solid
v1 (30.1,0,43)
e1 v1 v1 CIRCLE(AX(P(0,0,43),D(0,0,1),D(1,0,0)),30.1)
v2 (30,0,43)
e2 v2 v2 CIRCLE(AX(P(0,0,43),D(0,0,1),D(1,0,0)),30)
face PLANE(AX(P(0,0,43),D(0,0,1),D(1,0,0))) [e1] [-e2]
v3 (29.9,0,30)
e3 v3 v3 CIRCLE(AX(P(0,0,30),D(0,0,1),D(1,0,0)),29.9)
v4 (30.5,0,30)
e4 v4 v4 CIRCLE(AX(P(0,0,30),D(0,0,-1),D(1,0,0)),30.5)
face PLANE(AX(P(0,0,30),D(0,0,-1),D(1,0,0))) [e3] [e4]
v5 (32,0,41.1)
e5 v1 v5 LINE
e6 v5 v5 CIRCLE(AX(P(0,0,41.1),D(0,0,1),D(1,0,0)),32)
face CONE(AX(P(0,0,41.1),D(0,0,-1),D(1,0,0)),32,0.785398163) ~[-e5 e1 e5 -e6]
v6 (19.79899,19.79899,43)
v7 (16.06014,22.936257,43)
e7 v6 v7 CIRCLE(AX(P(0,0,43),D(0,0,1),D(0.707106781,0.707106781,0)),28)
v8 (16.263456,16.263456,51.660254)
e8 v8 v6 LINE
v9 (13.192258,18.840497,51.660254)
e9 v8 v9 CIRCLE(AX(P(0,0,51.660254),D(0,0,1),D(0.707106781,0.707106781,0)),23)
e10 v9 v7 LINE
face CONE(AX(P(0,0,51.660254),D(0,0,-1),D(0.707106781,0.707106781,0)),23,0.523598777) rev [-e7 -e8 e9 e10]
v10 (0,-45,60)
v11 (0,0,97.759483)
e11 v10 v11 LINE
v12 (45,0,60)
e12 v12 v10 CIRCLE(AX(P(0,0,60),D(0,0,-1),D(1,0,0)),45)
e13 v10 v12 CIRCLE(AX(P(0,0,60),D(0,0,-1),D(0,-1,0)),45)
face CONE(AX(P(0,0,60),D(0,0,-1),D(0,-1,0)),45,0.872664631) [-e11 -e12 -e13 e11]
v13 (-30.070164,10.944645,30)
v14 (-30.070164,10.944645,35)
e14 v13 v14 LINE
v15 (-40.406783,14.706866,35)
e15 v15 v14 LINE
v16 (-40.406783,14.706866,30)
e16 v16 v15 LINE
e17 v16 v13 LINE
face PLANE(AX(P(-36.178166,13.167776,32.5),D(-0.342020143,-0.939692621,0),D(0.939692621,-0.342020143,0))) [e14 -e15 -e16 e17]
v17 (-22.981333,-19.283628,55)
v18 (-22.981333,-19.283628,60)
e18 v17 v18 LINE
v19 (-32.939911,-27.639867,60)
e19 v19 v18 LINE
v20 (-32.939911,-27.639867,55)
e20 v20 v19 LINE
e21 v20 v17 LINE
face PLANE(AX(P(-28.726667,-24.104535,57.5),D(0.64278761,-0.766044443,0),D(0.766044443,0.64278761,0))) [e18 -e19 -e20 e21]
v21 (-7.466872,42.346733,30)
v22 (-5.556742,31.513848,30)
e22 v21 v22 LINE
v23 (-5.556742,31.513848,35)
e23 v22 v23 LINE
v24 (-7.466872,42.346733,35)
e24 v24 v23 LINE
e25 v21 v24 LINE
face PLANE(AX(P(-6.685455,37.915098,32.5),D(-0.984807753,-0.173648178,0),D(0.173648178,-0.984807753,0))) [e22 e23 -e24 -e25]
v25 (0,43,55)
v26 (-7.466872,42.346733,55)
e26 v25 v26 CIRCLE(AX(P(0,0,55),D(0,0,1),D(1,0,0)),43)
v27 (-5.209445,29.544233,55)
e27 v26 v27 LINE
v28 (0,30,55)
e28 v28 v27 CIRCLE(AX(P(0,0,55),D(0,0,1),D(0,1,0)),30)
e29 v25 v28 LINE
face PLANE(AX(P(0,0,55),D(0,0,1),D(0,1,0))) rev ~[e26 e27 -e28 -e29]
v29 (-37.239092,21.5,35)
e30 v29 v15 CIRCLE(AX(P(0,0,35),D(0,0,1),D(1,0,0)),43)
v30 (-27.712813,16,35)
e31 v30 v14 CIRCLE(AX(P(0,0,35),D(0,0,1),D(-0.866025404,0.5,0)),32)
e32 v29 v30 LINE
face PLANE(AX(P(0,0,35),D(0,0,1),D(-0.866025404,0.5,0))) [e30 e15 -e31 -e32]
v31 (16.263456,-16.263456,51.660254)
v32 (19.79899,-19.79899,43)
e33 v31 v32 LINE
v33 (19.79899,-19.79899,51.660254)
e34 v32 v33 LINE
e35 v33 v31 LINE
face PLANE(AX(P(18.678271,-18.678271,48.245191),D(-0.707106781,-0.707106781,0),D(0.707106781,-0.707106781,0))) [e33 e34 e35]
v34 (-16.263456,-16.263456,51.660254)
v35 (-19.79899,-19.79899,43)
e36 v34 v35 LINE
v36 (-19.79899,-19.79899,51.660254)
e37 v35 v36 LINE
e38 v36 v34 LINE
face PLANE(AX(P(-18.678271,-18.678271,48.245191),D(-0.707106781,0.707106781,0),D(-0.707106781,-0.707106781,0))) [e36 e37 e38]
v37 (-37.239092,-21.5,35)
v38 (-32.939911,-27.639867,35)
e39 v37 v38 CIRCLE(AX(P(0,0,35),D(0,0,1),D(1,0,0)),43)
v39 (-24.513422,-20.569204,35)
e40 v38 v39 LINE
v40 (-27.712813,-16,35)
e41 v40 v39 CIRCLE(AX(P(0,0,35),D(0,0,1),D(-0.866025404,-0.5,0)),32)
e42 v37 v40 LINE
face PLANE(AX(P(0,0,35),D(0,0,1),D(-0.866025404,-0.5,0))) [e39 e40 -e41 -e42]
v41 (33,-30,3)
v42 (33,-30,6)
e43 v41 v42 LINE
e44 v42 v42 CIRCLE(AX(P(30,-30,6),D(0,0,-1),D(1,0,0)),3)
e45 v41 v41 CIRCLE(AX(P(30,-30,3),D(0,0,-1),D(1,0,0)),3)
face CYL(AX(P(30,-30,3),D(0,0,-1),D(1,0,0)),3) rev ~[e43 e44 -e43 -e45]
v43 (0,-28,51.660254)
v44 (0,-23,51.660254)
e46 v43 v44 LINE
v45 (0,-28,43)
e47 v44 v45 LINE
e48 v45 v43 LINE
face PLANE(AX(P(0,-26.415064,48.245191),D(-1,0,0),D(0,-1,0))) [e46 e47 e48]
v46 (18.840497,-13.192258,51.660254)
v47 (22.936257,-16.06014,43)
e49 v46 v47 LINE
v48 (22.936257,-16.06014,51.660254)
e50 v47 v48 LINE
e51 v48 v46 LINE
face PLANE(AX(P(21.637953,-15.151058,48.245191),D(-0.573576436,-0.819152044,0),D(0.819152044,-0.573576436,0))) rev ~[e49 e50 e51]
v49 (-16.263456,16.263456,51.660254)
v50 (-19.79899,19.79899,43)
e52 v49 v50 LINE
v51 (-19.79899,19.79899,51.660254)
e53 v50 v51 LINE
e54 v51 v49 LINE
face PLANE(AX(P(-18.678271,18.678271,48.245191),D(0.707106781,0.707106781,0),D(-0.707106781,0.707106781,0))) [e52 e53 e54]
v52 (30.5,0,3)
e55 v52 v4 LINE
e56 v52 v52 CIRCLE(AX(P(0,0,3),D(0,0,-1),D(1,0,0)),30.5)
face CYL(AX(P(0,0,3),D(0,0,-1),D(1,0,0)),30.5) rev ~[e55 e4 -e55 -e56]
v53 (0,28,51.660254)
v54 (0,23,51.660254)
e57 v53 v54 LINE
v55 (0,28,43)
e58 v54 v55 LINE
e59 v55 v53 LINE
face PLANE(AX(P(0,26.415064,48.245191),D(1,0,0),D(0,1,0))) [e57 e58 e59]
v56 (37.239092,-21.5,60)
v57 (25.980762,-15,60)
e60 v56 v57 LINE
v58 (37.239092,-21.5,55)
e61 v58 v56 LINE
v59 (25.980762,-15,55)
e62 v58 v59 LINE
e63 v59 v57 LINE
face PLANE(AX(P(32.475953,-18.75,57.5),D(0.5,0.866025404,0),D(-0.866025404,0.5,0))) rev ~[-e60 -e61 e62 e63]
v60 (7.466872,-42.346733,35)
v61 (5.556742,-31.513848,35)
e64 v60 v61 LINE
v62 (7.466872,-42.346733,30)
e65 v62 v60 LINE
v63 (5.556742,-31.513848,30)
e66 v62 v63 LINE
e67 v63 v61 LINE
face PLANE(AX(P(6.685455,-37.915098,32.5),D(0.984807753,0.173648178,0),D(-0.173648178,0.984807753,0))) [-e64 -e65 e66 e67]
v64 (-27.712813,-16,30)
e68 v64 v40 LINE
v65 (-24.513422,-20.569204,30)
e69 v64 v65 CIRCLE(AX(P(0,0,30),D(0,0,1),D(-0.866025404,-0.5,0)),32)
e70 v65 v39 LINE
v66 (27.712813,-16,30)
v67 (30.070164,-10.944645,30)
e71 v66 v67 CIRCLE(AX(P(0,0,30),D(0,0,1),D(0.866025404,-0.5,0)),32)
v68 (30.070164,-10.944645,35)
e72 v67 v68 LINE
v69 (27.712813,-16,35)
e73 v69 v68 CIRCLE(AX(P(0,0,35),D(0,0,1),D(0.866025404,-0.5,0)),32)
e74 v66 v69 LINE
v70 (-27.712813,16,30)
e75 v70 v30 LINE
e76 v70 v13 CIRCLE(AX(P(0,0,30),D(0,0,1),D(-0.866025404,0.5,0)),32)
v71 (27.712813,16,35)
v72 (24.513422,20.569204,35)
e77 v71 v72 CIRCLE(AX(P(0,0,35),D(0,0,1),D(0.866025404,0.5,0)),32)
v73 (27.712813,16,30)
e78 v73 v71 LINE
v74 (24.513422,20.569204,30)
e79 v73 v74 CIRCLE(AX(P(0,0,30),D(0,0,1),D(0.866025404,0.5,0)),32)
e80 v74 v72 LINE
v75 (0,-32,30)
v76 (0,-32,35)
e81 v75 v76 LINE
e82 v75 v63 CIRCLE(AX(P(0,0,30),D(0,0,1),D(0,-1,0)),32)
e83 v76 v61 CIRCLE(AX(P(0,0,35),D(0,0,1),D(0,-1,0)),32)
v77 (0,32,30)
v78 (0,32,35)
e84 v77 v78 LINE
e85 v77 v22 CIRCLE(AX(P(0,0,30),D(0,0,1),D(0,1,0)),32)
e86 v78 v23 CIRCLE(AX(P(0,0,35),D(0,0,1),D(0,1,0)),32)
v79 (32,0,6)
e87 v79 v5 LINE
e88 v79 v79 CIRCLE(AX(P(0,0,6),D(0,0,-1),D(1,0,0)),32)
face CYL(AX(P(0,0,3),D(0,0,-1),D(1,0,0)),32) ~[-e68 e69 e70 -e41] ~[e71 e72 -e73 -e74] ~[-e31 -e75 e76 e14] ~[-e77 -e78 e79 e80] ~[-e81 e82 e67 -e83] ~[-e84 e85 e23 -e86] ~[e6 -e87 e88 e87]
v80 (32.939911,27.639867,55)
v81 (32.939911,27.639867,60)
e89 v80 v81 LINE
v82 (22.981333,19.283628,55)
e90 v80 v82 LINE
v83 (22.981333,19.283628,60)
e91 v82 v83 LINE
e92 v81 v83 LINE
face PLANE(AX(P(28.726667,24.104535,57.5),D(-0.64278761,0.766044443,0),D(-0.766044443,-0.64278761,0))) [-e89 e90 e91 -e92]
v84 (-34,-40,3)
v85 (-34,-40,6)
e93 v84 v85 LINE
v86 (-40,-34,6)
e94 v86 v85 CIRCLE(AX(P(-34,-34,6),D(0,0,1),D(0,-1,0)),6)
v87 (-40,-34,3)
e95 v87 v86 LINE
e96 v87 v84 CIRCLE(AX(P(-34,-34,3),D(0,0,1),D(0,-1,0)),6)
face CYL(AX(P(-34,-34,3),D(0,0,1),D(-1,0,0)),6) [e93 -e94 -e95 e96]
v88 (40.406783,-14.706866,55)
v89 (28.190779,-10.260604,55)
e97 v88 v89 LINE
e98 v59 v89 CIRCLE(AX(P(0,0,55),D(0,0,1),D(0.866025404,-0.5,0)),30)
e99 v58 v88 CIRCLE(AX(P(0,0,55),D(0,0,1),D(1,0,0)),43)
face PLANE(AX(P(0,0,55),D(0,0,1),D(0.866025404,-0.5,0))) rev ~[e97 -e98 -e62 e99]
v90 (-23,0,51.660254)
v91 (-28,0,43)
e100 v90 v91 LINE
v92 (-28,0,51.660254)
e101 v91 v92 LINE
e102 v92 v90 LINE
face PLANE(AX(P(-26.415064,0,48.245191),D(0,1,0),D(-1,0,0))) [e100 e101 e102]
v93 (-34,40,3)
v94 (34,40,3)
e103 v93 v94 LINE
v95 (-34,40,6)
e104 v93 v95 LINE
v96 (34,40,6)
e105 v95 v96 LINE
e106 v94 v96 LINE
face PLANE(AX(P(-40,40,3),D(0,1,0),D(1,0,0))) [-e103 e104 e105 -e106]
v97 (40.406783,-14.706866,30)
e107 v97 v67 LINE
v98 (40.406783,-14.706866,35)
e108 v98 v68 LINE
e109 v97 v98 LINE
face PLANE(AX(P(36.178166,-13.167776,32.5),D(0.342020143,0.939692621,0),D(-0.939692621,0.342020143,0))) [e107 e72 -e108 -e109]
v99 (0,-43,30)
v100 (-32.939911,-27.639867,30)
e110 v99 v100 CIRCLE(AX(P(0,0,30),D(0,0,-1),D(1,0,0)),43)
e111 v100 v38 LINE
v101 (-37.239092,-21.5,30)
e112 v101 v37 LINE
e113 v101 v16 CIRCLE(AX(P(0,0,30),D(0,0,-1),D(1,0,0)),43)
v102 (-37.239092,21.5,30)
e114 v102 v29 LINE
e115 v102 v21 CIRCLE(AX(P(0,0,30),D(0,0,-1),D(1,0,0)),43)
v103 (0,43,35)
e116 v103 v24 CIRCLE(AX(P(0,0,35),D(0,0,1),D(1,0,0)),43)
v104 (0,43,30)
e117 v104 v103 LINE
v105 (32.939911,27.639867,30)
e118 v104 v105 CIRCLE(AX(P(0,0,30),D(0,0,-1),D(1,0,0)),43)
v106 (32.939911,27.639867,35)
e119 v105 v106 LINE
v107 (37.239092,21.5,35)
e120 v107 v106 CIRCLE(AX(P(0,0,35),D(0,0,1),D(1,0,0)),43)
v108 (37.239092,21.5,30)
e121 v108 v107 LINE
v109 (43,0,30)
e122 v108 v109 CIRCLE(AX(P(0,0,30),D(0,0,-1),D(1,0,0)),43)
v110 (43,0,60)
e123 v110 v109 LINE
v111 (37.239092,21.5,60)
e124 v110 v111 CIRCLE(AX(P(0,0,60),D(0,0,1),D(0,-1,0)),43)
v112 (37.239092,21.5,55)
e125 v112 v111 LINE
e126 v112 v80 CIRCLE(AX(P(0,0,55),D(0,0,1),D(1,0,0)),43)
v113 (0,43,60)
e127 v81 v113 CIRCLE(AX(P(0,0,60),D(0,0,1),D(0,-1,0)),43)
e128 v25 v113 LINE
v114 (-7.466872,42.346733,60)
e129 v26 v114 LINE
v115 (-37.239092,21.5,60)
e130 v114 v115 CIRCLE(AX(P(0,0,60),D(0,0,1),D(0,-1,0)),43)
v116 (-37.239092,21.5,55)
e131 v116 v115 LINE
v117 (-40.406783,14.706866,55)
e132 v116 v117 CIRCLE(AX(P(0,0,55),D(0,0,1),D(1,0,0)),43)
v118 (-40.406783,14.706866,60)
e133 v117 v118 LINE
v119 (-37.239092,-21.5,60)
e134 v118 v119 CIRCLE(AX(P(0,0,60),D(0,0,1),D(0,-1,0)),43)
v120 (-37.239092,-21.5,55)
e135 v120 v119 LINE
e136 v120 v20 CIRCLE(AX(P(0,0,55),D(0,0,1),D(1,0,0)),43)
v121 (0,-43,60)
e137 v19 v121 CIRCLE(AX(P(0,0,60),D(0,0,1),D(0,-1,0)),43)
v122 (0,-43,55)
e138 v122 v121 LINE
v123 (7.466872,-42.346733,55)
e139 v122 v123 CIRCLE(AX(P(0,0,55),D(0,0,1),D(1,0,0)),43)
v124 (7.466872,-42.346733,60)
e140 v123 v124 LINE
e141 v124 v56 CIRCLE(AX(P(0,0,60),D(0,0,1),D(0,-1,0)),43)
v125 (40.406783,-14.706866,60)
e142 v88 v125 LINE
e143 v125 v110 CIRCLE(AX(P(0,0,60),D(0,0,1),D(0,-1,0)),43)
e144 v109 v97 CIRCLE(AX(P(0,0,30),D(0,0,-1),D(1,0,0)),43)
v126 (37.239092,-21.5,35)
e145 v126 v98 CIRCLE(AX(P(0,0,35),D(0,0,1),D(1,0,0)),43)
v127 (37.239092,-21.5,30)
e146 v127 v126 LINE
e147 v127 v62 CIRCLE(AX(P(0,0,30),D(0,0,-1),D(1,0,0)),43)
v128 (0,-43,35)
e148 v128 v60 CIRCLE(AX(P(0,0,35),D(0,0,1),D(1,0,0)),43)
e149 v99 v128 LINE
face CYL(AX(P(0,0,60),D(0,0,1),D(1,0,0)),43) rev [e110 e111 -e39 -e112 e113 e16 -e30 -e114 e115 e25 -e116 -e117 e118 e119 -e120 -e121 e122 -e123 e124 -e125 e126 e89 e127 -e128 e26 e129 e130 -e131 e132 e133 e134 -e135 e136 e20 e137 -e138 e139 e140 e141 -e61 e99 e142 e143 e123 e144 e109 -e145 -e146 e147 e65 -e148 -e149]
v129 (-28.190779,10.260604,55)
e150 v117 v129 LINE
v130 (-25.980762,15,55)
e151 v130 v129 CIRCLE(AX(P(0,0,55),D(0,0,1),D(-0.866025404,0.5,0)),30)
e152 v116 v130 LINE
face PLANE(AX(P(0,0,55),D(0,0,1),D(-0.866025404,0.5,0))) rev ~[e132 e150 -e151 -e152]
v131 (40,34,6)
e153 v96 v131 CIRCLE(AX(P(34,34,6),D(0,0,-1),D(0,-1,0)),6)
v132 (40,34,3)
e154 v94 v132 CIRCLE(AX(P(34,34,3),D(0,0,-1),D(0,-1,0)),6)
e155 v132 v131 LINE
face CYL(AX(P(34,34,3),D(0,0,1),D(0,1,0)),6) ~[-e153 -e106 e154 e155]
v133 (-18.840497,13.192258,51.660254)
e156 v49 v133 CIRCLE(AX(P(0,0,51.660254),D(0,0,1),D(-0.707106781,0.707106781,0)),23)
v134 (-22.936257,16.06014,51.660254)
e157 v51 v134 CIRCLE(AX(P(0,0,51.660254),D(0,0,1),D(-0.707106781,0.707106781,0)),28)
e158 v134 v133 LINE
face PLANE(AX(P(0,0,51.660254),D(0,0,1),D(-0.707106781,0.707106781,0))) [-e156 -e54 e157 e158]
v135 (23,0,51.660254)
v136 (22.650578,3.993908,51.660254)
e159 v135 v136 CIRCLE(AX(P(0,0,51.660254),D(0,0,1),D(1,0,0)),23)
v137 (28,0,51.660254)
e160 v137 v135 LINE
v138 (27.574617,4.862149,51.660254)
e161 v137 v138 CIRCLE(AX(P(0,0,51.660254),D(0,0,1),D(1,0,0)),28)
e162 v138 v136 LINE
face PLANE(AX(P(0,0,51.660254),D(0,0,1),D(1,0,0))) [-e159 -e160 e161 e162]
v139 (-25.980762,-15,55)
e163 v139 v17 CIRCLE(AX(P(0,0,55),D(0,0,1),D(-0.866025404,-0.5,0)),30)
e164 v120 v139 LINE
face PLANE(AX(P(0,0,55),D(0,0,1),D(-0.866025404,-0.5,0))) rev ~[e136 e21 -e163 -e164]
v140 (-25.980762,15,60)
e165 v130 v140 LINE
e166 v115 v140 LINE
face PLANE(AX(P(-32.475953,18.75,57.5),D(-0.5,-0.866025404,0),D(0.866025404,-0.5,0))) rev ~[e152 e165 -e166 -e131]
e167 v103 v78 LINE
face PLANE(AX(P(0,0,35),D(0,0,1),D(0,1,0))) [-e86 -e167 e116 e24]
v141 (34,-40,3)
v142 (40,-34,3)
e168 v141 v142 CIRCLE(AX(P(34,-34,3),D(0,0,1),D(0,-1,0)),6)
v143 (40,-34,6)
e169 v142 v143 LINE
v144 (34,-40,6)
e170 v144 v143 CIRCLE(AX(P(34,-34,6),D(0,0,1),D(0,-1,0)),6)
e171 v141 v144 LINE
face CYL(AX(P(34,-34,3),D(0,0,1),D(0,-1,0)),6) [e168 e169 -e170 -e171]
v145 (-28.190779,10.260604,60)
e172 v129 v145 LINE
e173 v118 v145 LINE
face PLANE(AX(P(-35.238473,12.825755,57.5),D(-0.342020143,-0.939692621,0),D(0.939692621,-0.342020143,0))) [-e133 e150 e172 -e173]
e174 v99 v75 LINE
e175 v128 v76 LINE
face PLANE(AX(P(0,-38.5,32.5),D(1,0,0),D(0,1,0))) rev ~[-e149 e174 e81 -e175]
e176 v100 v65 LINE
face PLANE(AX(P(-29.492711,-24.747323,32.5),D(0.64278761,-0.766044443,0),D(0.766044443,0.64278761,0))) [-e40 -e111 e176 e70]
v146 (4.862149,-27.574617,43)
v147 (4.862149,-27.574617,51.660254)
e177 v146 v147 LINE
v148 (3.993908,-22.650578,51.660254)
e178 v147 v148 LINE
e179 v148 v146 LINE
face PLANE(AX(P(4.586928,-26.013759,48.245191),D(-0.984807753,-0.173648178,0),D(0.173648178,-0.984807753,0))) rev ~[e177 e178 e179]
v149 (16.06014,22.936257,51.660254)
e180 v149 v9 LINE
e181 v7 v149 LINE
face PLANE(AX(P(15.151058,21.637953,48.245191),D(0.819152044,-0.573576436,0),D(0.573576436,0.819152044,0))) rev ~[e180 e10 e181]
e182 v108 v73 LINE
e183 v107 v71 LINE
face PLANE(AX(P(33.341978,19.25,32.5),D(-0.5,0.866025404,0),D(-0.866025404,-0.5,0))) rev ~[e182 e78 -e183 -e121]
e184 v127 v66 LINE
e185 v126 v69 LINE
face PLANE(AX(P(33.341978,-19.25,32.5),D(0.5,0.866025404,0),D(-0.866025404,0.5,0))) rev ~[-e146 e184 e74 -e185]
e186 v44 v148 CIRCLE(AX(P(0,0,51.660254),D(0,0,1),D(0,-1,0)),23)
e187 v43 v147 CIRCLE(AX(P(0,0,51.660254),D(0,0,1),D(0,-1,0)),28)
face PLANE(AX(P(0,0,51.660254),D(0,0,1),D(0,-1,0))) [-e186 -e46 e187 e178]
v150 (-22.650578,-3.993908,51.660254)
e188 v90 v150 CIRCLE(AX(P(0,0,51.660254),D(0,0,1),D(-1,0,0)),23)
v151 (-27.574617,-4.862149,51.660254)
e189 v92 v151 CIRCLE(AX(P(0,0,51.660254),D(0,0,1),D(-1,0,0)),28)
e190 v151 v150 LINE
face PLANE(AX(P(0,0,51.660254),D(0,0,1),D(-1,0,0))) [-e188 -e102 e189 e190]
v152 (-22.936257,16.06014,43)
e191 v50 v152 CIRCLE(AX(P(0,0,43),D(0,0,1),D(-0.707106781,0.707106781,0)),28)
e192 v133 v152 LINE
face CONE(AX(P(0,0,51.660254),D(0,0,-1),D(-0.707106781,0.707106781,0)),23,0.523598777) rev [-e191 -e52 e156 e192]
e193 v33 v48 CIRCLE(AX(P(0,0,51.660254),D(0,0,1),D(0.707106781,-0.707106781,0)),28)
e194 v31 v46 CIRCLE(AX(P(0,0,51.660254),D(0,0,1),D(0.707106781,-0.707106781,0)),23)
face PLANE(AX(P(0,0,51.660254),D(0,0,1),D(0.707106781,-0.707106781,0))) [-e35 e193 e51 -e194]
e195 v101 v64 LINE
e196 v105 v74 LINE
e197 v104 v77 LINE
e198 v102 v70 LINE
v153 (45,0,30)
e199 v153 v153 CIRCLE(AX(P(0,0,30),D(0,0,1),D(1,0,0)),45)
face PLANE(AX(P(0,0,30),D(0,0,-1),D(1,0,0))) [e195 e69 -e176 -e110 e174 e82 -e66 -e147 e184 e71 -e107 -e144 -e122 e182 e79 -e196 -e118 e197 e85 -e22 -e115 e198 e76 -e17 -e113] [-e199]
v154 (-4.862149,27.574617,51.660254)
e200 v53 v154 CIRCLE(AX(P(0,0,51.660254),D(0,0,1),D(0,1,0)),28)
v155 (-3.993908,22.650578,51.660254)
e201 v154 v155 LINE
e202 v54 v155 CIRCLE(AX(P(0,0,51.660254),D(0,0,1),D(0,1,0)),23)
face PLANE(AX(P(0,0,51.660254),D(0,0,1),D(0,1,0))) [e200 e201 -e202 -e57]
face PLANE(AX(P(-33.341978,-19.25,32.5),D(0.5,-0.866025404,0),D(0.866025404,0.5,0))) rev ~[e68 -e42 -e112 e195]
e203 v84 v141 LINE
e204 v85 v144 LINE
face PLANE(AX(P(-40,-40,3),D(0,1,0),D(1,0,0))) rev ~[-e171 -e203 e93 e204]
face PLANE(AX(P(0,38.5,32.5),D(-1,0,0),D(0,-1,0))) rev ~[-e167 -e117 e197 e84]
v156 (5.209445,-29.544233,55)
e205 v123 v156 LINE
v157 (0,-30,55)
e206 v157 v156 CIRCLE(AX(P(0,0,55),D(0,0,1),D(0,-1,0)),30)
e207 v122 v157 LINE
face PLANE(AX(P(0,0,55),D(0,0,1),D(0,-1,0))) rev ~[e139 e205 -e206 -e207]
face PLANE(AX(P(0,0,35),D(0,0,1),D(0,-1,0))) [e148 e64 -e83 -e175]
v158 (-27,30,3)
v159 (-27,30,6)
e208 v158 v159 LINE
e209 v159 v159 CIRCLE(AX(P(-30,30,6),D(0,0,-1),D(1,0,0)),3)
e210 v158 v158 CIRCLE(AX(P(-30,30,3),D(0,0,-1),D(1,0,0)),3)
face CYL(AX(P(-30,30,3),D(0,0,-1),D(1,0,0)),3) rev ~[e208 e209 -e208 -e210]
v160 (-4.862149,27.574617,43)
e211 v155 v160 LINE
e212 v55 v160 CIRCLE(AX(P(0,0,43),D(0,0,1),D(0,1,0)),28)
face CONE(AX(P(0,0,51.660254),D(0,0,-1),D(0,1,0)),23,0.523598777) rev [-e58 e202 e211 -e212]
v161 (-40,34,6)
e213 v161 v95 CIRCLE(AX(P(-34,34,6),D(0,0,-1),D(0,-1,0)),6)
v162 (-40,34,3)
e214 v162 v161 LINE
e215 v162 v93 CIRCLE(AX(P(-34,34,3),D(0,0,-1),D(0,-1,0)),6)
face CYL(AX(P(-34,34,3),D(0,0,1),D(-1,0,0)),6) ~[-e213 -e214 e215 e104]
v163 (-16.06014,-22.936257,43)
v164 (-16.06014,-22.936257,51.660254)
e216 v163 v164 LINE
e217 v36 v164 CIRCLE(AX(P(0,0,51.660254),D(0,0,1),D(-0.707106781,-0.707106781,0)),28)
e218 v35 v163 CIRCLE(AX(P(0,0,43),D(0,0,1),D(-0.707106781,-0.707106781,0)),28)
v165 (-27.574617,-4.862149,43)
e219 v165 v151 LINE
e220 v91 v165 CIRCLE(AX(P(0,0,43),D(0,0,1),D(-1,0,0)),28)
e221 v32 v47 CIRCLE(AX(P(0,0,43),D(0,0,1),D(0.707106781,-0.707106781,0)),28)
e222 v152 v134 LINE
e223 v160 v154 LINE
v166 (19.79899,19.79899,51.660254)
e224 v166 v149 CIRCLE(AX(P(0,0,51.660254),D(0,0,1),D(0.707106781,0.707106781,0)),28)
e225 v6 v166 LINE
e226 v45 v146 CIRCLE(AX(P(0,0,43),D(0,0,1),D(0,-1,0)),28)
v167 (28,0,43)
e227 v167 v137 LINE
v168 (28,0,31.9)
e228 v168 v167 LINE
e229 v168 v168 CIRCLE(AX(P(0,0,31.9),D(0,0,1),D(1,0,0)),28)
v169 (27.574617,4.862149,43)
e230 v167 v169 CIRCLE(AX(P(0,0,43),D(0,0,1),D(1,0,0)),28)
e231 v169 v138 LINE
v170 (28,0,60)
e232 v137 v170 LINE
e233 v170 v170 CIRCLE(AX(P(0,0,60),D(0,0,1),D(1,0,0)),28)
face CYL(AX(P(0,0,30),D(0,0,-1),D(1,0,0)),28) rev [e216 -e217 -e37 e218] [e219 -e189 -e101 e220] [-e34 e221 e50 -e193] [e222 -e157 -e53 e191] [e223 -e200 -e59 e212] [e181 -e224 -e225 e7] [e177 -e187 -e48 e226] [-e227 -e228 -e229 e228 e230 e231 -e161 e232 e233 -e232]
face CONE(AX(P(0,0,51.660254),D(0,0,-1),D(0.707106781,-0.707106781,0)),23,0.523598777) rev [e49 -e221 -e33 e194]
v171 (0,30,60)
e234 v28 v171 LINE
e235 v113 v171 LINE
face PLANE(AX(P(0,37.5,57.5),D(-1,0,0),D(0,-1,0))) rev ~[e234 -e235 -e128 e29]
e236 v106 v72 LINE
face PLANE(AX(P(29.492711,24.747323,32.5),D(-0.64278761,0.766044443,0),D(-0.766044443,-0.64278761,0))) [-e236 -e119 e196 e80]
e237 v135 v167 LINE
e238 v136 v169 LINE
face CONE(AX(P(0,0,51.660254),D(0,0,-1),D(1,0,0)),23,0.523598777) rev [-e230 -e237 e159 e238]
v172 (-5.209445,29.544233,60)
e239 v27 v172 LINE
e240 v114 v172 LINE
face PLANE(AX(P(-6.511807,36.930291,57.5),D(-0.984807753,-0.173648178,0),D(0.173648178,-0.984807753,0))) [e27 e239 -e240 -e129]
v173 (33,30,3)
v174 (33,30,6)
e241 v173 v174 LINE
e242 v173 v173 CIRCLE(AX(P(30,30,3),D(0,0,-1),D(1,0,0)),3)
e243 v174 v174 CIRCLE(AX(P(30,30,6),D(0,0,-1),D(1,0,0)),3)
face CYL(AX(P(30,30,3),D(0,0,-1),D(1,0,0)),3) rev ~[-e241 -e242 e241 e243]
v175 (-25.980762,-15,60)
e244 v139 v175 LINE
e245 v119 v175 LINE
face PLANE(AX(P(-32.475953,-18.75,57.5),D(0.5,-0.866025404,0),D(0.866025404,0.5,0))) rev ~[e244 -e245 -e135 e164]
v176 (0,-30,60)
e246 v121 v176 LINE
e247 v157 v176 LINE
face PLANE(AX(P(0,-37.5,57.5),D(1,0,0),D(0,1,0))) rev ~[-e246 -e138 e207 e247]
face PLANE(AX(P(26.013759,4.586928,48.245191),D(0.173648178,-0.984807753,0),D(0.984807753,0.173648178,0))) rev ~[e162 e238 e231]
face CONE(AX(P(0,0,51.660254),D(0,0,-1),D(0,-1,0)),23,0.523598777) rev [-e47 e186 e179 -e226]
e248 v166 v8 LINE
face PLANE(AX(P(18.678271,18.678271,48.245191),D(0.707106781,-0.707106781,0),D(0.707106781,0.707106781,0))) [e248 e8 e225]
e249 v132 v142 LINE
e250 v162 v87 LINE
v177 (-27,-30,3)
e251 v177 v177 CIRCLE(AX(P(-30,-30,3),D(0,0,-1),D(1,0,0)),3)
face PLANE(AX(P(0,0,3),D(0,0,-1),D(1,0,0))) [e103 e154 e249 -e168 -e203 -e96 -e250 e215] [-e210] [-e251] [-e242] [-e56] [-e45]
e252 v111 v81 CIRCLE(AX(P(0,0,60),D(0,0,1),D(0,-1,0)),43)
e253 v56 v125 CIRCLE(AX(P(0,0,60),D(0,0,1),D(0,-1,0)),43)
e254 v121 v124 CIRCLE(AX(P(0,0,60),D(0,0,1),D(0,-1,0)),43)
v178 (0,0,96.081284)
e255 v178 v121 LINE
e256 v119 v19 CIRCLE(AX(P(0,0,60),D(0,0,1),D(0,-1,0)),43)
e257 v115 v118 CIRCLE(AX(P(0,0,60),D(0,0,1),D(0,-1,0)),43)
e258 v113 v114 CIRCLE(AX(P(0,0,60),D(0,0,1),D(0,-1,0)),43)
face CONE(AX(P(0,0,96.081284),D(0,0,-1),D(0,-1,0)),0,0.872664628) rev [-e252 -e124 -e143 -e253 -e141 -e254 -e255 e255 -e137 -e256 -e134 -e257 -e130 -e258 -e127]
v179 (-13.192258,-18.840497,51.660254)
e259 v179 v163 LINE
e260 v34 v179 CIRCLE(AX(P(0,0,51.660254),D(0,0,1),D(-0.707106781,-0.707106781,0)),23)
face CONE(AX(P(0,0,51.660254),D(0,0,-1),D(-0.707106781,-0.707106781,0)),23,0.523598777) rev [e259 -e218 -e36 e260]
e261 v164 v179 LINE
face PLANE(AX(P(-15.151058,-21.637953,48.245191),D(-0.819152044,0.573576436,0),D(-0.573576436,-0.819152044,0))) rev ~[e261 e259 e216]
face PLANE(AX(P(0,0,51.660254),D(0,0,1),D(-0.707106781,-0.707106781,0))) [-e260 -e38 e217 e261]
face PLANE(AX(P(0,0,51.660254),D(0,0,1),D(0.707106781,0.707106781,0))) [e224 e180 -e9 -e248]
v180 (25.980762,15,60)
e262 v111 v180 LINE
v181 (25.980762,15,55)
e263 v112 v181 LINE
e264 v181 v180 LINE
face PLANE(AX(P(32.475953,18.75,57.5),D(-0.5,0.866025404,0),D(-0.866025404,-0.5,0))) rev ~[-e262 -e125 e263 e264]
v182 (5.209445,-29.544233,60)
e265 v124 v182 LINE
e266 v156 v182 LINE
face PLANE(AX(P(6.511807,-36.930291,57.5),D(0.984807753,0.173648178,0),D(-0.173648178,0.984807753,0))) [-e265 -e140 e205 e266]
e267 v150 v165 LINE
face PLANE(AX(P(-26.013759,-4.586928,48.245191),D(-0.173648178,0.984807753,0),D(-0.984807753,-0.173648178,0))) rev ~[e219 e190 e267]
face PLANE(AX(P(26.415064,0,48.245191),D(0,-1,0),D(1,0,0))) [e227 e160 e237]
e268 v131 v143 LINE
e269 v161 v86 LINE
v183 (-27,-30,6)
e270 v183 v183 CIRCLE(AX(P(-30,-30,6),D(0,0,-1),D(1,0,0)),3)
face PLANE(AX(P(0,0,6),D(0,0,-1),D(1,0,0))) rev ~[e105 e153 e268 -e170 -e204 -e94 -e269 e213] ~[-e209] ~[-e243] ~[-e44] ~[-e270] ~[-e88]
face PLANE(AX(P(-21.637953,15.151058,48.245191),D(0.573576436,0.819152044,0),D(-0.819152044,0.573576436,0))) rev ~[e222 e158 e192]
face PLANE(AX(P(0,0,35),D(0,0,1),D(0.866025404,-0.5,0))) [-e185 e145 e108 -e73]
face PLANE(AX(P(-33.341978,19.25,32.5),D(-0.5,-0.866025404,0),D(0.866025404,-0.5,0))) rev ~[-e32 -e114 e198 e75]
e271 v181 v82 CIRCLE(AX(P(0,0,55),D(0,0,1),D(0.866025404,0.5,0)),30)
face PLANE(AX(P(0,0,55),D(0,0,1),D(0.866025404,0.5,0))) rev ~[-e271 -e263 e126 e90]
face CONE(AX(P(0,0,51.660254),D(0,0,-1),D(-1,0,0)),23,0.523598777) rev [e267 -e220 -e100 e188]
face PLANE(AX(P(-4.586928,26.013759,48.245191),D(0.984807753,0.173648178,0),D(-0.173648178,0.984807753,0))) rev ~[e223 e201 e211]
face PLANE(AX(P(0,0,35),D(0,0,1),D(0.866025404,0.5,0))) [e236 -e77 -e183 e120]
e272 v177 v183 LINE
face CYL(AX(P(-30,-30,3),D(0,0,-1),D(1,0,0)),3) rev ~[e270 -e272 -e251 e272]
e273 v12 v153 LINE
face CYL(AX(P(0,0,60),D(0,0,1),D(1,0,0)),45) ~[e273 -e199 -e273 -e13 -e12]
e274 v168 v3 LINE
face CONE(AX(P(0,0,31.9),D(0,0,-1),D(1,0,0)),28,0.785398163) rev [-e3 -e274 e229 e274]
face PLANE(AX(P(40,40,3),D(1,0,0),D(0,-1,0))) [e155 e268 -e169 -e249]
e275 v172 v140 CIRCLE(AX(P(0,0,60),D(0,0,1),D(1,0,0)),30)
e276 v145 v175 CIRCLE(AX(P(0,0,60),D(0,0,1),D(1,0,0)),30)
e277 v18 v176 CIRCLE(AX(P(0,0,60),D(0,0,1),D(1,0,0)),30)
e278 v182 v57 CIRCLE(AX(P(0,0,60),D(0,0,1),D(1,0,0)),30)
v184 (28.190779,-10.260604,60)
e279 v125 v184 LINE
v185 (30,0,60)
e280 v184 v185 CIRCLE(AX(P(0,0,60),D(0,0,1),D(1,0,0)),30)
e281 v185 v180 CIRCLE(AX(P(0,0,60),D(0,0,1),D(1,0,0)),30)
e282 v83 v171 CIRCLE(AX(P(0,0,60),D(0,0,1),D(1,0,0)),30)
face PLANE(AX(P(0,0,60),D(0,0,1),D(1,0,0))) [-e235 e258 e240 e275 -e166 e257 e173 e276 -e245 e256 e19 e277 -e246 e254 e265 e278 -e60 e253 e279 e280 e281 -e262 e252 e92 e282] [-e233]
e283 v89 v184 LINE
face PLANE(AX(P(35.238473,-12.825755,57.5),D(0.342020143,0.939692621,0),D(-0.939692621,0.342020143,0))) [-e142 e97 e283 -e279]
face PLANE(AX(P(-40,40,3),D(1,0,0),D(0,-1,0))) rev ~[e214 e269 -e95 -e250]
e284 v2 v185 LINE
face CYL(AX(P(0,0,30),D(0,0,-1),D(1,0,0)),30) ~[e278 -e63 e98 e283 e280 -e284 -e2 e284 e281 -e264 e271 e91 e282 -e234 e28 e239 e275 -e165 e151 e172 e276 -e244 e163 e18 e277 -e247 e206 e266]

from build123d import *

# Parameters (mm, degrees)
SKETCH004_R           = 32
SKETCH004_R_2         = 30
PAD002_DEPTH          = 40
SKETCH005_R           = 30
SKETCH005_R_2         = 28
PAD003_DEPTH          = 30
CHAMFER_SIZE          = 1.9
CHAMFER001_SIZE       = 1.9
REVOLUTION_ANGLE      = 10
POLARPATTERN_COUNT    = 8
SKETCH007_W           = 15
SKETCH007_H           = 5
SKETCH007_W_2         = 13
REVOLUTION001_ANGLE   = 10
POLARPATTERN001_COUNT = 6
SKETCH009_R           = 45
SKETCH009_R_2         = 43
PAD004_DEPTH          = 30
SKETCH010_W           = 80
SKETCH010_H           = 80
SKETCH010_R           = 32
PAD005_DEPTH          = 3
SKETCH011_R           = 3
POCKET002_DEPTH       = 3
FILLET001_R           = 6
SKETCH021_R           = 30.5
POCKET004_DEPTH       = 27


with BuildPart() as part:
    # Sketch004 → Pad002 (new body)
    with BuildSketch(Plane.XY):
        Circle(SKETCH004_R)
        Circle(SKETCH004_R_2, mode=Mode.SUBTRACT)
    extrude(amount=PAD002_DEPTH)

    # Sketch005 (on Face4 of Pad002) → Pad003 (join)
    with BuildSketch(Plane.XY.offset(27)):
        Circle(SKETCH005_R)
        Circle(SKETCH005_R_2, mode=Mode.SUBTRACT)
    extrude(amount=PAD003_DEPTH)

    # Chamfer
    chamfer_edges = [part.edges().sort_by_distance(p)[0] for p in [
        (-32, 0, 40),
    ]]
    chamfer(chamfer_edges, length=CHAMFER_SIZE)

    # Chamfer001
    chamfer001_edges = [part.edges().sort_by_distance(p)[0] for p in [
        (-28, 0, 27),
    ]]
    chamfer(chamfer001_edges, length=CHAMFER001_SIZE)

    # Sketch006 → Revolution (revolve)
    with BuildSketch(Plane.YZ):
        Polygon((-28, 40), (-28, 48.660254), (-23, 48.660254), align=None)
    revolution = revolve(axis=Axis((0, 0, 0), (0, 0, 1)), revolution_arc=REVOLUTION_ANGLE)

    # PolarPattern: Revolution ×8 about axis
    polarpattern_axis = Axis((0, 0, 0), (0, 0, 1))
    for i in range(1, POLARPATTERN_COUNT):
        add(revolution.rotate(polarpattern_axis, i * 360 / POLARPATTERN_COUNT))

    # Sketch007 → Revolution001 (revolve)
    with BuildSketch(Plane.YZ):
        with Locations((-37.5, 54.5)):
            Rectangle(SKETCH007_W, SKETCH007_H)
        with Locations((-38.5, 29.5)):
            Rectangle(SKETCH007_W_2, SKETCH007_H)
    revolution001 = revolve(axis=Axis((0, 0, 0), (0, 0, 1)), revolution_arc=REVOLUTION001_ANGLE)

    # PolarPattern001: Revolution001 ×6 about axis
    polarpattern001_axis = Axis((0, 0, 0), (0, 0, 1))
    for i in range(1, POLARPATTERN001_COUNT):
        add(revolution001.rotate(polarpattern001_axis, i * 360 / POLARPATTERN001_COUNT))

    # Sketch008 → Revolution002 (revolve)
    with BuildSketch(Plane.YZ):
        Polygon((-45, 57), (0, 94.759483), (0, 93.081284), (-43, 57), align=None)
    revolve(axis=Axis((0, 0, 0), (0, 0, 1)))

    # Sketch009 (on Face100 of Revolution002) → Pad004 (join)
    with BuildSketch(Plane(origin=(0, 0, 57), x_dir=(1, 0, 0), z_dir=(0, 0, -1))):
        Circle(SKETCH009_R)
        Circle(SKETCH009_R_2, mode=Mode.SUBTRACT)
    extrude(amount=PAD004_DEPTH)

    # Sketch010 (on Face5 of Pad004) → Pad005 (join)
    with BuildSketch(Plane(origin=(0, 0, 0), x_dir=(1, 0, 0), z_dir=(0, 0, -1))):
        Rectangle(SKETCH010_W, SKETCH010_H)
        Circle(SKETCH010_R, mode=Mode.SUBTRACT)
    extrude(amount=-PAD005_DEPTH)

    # Sketch011 (on Face39 of Pad005) → Pocket002 (cut)
    with BuildSketch(Plane(origin=(0, 0, 0), x_dir=(1, 0, 0), z_dir=(0, 0, -1))):
        with Locations((-30, 30)):
            Circle(SKETCH011_R)
        with Locations((30, 30)):
            Circle(SKETCH011_R)
        with Locations((-30, -30)):
            Circle(SKETCH011_R)
        with Locations((30, -30)):
            Circle(SKETCH011_R)
    extrude(amount=-POCKET002_DEPTH, mode=Mode.SUBTRACT)

    # Fillet001
    fillet001_edges = [part.edges().sort_by_distance(p)[0] for p in [
        (40, 40, 1.5),
        (-40, 40, 1.5),
        (-40, -40, 1.5),
        (40, -40, 1.5),
    ]]
    fillet(fillet001_edges, radius=FILLET001_R)

    # Sketch021 (on Face1 of Fillet001) → Pocket004 (cut)
    with BuildSketch(Plane(origin=(0, 0, 0), x_dir=(1, 0, 0), z_dir=(0, 0, -1))):
        Circle(SKETCH021_R)
    extrude(amount=-POCKET004_DEPTH, mode=Mode.SUBTRACT)


with BuildPart() as part_1:
    # Body001 placement: moved
    add(part.part.moved(Location((0, 0, 3))))


solid = part_1.part
